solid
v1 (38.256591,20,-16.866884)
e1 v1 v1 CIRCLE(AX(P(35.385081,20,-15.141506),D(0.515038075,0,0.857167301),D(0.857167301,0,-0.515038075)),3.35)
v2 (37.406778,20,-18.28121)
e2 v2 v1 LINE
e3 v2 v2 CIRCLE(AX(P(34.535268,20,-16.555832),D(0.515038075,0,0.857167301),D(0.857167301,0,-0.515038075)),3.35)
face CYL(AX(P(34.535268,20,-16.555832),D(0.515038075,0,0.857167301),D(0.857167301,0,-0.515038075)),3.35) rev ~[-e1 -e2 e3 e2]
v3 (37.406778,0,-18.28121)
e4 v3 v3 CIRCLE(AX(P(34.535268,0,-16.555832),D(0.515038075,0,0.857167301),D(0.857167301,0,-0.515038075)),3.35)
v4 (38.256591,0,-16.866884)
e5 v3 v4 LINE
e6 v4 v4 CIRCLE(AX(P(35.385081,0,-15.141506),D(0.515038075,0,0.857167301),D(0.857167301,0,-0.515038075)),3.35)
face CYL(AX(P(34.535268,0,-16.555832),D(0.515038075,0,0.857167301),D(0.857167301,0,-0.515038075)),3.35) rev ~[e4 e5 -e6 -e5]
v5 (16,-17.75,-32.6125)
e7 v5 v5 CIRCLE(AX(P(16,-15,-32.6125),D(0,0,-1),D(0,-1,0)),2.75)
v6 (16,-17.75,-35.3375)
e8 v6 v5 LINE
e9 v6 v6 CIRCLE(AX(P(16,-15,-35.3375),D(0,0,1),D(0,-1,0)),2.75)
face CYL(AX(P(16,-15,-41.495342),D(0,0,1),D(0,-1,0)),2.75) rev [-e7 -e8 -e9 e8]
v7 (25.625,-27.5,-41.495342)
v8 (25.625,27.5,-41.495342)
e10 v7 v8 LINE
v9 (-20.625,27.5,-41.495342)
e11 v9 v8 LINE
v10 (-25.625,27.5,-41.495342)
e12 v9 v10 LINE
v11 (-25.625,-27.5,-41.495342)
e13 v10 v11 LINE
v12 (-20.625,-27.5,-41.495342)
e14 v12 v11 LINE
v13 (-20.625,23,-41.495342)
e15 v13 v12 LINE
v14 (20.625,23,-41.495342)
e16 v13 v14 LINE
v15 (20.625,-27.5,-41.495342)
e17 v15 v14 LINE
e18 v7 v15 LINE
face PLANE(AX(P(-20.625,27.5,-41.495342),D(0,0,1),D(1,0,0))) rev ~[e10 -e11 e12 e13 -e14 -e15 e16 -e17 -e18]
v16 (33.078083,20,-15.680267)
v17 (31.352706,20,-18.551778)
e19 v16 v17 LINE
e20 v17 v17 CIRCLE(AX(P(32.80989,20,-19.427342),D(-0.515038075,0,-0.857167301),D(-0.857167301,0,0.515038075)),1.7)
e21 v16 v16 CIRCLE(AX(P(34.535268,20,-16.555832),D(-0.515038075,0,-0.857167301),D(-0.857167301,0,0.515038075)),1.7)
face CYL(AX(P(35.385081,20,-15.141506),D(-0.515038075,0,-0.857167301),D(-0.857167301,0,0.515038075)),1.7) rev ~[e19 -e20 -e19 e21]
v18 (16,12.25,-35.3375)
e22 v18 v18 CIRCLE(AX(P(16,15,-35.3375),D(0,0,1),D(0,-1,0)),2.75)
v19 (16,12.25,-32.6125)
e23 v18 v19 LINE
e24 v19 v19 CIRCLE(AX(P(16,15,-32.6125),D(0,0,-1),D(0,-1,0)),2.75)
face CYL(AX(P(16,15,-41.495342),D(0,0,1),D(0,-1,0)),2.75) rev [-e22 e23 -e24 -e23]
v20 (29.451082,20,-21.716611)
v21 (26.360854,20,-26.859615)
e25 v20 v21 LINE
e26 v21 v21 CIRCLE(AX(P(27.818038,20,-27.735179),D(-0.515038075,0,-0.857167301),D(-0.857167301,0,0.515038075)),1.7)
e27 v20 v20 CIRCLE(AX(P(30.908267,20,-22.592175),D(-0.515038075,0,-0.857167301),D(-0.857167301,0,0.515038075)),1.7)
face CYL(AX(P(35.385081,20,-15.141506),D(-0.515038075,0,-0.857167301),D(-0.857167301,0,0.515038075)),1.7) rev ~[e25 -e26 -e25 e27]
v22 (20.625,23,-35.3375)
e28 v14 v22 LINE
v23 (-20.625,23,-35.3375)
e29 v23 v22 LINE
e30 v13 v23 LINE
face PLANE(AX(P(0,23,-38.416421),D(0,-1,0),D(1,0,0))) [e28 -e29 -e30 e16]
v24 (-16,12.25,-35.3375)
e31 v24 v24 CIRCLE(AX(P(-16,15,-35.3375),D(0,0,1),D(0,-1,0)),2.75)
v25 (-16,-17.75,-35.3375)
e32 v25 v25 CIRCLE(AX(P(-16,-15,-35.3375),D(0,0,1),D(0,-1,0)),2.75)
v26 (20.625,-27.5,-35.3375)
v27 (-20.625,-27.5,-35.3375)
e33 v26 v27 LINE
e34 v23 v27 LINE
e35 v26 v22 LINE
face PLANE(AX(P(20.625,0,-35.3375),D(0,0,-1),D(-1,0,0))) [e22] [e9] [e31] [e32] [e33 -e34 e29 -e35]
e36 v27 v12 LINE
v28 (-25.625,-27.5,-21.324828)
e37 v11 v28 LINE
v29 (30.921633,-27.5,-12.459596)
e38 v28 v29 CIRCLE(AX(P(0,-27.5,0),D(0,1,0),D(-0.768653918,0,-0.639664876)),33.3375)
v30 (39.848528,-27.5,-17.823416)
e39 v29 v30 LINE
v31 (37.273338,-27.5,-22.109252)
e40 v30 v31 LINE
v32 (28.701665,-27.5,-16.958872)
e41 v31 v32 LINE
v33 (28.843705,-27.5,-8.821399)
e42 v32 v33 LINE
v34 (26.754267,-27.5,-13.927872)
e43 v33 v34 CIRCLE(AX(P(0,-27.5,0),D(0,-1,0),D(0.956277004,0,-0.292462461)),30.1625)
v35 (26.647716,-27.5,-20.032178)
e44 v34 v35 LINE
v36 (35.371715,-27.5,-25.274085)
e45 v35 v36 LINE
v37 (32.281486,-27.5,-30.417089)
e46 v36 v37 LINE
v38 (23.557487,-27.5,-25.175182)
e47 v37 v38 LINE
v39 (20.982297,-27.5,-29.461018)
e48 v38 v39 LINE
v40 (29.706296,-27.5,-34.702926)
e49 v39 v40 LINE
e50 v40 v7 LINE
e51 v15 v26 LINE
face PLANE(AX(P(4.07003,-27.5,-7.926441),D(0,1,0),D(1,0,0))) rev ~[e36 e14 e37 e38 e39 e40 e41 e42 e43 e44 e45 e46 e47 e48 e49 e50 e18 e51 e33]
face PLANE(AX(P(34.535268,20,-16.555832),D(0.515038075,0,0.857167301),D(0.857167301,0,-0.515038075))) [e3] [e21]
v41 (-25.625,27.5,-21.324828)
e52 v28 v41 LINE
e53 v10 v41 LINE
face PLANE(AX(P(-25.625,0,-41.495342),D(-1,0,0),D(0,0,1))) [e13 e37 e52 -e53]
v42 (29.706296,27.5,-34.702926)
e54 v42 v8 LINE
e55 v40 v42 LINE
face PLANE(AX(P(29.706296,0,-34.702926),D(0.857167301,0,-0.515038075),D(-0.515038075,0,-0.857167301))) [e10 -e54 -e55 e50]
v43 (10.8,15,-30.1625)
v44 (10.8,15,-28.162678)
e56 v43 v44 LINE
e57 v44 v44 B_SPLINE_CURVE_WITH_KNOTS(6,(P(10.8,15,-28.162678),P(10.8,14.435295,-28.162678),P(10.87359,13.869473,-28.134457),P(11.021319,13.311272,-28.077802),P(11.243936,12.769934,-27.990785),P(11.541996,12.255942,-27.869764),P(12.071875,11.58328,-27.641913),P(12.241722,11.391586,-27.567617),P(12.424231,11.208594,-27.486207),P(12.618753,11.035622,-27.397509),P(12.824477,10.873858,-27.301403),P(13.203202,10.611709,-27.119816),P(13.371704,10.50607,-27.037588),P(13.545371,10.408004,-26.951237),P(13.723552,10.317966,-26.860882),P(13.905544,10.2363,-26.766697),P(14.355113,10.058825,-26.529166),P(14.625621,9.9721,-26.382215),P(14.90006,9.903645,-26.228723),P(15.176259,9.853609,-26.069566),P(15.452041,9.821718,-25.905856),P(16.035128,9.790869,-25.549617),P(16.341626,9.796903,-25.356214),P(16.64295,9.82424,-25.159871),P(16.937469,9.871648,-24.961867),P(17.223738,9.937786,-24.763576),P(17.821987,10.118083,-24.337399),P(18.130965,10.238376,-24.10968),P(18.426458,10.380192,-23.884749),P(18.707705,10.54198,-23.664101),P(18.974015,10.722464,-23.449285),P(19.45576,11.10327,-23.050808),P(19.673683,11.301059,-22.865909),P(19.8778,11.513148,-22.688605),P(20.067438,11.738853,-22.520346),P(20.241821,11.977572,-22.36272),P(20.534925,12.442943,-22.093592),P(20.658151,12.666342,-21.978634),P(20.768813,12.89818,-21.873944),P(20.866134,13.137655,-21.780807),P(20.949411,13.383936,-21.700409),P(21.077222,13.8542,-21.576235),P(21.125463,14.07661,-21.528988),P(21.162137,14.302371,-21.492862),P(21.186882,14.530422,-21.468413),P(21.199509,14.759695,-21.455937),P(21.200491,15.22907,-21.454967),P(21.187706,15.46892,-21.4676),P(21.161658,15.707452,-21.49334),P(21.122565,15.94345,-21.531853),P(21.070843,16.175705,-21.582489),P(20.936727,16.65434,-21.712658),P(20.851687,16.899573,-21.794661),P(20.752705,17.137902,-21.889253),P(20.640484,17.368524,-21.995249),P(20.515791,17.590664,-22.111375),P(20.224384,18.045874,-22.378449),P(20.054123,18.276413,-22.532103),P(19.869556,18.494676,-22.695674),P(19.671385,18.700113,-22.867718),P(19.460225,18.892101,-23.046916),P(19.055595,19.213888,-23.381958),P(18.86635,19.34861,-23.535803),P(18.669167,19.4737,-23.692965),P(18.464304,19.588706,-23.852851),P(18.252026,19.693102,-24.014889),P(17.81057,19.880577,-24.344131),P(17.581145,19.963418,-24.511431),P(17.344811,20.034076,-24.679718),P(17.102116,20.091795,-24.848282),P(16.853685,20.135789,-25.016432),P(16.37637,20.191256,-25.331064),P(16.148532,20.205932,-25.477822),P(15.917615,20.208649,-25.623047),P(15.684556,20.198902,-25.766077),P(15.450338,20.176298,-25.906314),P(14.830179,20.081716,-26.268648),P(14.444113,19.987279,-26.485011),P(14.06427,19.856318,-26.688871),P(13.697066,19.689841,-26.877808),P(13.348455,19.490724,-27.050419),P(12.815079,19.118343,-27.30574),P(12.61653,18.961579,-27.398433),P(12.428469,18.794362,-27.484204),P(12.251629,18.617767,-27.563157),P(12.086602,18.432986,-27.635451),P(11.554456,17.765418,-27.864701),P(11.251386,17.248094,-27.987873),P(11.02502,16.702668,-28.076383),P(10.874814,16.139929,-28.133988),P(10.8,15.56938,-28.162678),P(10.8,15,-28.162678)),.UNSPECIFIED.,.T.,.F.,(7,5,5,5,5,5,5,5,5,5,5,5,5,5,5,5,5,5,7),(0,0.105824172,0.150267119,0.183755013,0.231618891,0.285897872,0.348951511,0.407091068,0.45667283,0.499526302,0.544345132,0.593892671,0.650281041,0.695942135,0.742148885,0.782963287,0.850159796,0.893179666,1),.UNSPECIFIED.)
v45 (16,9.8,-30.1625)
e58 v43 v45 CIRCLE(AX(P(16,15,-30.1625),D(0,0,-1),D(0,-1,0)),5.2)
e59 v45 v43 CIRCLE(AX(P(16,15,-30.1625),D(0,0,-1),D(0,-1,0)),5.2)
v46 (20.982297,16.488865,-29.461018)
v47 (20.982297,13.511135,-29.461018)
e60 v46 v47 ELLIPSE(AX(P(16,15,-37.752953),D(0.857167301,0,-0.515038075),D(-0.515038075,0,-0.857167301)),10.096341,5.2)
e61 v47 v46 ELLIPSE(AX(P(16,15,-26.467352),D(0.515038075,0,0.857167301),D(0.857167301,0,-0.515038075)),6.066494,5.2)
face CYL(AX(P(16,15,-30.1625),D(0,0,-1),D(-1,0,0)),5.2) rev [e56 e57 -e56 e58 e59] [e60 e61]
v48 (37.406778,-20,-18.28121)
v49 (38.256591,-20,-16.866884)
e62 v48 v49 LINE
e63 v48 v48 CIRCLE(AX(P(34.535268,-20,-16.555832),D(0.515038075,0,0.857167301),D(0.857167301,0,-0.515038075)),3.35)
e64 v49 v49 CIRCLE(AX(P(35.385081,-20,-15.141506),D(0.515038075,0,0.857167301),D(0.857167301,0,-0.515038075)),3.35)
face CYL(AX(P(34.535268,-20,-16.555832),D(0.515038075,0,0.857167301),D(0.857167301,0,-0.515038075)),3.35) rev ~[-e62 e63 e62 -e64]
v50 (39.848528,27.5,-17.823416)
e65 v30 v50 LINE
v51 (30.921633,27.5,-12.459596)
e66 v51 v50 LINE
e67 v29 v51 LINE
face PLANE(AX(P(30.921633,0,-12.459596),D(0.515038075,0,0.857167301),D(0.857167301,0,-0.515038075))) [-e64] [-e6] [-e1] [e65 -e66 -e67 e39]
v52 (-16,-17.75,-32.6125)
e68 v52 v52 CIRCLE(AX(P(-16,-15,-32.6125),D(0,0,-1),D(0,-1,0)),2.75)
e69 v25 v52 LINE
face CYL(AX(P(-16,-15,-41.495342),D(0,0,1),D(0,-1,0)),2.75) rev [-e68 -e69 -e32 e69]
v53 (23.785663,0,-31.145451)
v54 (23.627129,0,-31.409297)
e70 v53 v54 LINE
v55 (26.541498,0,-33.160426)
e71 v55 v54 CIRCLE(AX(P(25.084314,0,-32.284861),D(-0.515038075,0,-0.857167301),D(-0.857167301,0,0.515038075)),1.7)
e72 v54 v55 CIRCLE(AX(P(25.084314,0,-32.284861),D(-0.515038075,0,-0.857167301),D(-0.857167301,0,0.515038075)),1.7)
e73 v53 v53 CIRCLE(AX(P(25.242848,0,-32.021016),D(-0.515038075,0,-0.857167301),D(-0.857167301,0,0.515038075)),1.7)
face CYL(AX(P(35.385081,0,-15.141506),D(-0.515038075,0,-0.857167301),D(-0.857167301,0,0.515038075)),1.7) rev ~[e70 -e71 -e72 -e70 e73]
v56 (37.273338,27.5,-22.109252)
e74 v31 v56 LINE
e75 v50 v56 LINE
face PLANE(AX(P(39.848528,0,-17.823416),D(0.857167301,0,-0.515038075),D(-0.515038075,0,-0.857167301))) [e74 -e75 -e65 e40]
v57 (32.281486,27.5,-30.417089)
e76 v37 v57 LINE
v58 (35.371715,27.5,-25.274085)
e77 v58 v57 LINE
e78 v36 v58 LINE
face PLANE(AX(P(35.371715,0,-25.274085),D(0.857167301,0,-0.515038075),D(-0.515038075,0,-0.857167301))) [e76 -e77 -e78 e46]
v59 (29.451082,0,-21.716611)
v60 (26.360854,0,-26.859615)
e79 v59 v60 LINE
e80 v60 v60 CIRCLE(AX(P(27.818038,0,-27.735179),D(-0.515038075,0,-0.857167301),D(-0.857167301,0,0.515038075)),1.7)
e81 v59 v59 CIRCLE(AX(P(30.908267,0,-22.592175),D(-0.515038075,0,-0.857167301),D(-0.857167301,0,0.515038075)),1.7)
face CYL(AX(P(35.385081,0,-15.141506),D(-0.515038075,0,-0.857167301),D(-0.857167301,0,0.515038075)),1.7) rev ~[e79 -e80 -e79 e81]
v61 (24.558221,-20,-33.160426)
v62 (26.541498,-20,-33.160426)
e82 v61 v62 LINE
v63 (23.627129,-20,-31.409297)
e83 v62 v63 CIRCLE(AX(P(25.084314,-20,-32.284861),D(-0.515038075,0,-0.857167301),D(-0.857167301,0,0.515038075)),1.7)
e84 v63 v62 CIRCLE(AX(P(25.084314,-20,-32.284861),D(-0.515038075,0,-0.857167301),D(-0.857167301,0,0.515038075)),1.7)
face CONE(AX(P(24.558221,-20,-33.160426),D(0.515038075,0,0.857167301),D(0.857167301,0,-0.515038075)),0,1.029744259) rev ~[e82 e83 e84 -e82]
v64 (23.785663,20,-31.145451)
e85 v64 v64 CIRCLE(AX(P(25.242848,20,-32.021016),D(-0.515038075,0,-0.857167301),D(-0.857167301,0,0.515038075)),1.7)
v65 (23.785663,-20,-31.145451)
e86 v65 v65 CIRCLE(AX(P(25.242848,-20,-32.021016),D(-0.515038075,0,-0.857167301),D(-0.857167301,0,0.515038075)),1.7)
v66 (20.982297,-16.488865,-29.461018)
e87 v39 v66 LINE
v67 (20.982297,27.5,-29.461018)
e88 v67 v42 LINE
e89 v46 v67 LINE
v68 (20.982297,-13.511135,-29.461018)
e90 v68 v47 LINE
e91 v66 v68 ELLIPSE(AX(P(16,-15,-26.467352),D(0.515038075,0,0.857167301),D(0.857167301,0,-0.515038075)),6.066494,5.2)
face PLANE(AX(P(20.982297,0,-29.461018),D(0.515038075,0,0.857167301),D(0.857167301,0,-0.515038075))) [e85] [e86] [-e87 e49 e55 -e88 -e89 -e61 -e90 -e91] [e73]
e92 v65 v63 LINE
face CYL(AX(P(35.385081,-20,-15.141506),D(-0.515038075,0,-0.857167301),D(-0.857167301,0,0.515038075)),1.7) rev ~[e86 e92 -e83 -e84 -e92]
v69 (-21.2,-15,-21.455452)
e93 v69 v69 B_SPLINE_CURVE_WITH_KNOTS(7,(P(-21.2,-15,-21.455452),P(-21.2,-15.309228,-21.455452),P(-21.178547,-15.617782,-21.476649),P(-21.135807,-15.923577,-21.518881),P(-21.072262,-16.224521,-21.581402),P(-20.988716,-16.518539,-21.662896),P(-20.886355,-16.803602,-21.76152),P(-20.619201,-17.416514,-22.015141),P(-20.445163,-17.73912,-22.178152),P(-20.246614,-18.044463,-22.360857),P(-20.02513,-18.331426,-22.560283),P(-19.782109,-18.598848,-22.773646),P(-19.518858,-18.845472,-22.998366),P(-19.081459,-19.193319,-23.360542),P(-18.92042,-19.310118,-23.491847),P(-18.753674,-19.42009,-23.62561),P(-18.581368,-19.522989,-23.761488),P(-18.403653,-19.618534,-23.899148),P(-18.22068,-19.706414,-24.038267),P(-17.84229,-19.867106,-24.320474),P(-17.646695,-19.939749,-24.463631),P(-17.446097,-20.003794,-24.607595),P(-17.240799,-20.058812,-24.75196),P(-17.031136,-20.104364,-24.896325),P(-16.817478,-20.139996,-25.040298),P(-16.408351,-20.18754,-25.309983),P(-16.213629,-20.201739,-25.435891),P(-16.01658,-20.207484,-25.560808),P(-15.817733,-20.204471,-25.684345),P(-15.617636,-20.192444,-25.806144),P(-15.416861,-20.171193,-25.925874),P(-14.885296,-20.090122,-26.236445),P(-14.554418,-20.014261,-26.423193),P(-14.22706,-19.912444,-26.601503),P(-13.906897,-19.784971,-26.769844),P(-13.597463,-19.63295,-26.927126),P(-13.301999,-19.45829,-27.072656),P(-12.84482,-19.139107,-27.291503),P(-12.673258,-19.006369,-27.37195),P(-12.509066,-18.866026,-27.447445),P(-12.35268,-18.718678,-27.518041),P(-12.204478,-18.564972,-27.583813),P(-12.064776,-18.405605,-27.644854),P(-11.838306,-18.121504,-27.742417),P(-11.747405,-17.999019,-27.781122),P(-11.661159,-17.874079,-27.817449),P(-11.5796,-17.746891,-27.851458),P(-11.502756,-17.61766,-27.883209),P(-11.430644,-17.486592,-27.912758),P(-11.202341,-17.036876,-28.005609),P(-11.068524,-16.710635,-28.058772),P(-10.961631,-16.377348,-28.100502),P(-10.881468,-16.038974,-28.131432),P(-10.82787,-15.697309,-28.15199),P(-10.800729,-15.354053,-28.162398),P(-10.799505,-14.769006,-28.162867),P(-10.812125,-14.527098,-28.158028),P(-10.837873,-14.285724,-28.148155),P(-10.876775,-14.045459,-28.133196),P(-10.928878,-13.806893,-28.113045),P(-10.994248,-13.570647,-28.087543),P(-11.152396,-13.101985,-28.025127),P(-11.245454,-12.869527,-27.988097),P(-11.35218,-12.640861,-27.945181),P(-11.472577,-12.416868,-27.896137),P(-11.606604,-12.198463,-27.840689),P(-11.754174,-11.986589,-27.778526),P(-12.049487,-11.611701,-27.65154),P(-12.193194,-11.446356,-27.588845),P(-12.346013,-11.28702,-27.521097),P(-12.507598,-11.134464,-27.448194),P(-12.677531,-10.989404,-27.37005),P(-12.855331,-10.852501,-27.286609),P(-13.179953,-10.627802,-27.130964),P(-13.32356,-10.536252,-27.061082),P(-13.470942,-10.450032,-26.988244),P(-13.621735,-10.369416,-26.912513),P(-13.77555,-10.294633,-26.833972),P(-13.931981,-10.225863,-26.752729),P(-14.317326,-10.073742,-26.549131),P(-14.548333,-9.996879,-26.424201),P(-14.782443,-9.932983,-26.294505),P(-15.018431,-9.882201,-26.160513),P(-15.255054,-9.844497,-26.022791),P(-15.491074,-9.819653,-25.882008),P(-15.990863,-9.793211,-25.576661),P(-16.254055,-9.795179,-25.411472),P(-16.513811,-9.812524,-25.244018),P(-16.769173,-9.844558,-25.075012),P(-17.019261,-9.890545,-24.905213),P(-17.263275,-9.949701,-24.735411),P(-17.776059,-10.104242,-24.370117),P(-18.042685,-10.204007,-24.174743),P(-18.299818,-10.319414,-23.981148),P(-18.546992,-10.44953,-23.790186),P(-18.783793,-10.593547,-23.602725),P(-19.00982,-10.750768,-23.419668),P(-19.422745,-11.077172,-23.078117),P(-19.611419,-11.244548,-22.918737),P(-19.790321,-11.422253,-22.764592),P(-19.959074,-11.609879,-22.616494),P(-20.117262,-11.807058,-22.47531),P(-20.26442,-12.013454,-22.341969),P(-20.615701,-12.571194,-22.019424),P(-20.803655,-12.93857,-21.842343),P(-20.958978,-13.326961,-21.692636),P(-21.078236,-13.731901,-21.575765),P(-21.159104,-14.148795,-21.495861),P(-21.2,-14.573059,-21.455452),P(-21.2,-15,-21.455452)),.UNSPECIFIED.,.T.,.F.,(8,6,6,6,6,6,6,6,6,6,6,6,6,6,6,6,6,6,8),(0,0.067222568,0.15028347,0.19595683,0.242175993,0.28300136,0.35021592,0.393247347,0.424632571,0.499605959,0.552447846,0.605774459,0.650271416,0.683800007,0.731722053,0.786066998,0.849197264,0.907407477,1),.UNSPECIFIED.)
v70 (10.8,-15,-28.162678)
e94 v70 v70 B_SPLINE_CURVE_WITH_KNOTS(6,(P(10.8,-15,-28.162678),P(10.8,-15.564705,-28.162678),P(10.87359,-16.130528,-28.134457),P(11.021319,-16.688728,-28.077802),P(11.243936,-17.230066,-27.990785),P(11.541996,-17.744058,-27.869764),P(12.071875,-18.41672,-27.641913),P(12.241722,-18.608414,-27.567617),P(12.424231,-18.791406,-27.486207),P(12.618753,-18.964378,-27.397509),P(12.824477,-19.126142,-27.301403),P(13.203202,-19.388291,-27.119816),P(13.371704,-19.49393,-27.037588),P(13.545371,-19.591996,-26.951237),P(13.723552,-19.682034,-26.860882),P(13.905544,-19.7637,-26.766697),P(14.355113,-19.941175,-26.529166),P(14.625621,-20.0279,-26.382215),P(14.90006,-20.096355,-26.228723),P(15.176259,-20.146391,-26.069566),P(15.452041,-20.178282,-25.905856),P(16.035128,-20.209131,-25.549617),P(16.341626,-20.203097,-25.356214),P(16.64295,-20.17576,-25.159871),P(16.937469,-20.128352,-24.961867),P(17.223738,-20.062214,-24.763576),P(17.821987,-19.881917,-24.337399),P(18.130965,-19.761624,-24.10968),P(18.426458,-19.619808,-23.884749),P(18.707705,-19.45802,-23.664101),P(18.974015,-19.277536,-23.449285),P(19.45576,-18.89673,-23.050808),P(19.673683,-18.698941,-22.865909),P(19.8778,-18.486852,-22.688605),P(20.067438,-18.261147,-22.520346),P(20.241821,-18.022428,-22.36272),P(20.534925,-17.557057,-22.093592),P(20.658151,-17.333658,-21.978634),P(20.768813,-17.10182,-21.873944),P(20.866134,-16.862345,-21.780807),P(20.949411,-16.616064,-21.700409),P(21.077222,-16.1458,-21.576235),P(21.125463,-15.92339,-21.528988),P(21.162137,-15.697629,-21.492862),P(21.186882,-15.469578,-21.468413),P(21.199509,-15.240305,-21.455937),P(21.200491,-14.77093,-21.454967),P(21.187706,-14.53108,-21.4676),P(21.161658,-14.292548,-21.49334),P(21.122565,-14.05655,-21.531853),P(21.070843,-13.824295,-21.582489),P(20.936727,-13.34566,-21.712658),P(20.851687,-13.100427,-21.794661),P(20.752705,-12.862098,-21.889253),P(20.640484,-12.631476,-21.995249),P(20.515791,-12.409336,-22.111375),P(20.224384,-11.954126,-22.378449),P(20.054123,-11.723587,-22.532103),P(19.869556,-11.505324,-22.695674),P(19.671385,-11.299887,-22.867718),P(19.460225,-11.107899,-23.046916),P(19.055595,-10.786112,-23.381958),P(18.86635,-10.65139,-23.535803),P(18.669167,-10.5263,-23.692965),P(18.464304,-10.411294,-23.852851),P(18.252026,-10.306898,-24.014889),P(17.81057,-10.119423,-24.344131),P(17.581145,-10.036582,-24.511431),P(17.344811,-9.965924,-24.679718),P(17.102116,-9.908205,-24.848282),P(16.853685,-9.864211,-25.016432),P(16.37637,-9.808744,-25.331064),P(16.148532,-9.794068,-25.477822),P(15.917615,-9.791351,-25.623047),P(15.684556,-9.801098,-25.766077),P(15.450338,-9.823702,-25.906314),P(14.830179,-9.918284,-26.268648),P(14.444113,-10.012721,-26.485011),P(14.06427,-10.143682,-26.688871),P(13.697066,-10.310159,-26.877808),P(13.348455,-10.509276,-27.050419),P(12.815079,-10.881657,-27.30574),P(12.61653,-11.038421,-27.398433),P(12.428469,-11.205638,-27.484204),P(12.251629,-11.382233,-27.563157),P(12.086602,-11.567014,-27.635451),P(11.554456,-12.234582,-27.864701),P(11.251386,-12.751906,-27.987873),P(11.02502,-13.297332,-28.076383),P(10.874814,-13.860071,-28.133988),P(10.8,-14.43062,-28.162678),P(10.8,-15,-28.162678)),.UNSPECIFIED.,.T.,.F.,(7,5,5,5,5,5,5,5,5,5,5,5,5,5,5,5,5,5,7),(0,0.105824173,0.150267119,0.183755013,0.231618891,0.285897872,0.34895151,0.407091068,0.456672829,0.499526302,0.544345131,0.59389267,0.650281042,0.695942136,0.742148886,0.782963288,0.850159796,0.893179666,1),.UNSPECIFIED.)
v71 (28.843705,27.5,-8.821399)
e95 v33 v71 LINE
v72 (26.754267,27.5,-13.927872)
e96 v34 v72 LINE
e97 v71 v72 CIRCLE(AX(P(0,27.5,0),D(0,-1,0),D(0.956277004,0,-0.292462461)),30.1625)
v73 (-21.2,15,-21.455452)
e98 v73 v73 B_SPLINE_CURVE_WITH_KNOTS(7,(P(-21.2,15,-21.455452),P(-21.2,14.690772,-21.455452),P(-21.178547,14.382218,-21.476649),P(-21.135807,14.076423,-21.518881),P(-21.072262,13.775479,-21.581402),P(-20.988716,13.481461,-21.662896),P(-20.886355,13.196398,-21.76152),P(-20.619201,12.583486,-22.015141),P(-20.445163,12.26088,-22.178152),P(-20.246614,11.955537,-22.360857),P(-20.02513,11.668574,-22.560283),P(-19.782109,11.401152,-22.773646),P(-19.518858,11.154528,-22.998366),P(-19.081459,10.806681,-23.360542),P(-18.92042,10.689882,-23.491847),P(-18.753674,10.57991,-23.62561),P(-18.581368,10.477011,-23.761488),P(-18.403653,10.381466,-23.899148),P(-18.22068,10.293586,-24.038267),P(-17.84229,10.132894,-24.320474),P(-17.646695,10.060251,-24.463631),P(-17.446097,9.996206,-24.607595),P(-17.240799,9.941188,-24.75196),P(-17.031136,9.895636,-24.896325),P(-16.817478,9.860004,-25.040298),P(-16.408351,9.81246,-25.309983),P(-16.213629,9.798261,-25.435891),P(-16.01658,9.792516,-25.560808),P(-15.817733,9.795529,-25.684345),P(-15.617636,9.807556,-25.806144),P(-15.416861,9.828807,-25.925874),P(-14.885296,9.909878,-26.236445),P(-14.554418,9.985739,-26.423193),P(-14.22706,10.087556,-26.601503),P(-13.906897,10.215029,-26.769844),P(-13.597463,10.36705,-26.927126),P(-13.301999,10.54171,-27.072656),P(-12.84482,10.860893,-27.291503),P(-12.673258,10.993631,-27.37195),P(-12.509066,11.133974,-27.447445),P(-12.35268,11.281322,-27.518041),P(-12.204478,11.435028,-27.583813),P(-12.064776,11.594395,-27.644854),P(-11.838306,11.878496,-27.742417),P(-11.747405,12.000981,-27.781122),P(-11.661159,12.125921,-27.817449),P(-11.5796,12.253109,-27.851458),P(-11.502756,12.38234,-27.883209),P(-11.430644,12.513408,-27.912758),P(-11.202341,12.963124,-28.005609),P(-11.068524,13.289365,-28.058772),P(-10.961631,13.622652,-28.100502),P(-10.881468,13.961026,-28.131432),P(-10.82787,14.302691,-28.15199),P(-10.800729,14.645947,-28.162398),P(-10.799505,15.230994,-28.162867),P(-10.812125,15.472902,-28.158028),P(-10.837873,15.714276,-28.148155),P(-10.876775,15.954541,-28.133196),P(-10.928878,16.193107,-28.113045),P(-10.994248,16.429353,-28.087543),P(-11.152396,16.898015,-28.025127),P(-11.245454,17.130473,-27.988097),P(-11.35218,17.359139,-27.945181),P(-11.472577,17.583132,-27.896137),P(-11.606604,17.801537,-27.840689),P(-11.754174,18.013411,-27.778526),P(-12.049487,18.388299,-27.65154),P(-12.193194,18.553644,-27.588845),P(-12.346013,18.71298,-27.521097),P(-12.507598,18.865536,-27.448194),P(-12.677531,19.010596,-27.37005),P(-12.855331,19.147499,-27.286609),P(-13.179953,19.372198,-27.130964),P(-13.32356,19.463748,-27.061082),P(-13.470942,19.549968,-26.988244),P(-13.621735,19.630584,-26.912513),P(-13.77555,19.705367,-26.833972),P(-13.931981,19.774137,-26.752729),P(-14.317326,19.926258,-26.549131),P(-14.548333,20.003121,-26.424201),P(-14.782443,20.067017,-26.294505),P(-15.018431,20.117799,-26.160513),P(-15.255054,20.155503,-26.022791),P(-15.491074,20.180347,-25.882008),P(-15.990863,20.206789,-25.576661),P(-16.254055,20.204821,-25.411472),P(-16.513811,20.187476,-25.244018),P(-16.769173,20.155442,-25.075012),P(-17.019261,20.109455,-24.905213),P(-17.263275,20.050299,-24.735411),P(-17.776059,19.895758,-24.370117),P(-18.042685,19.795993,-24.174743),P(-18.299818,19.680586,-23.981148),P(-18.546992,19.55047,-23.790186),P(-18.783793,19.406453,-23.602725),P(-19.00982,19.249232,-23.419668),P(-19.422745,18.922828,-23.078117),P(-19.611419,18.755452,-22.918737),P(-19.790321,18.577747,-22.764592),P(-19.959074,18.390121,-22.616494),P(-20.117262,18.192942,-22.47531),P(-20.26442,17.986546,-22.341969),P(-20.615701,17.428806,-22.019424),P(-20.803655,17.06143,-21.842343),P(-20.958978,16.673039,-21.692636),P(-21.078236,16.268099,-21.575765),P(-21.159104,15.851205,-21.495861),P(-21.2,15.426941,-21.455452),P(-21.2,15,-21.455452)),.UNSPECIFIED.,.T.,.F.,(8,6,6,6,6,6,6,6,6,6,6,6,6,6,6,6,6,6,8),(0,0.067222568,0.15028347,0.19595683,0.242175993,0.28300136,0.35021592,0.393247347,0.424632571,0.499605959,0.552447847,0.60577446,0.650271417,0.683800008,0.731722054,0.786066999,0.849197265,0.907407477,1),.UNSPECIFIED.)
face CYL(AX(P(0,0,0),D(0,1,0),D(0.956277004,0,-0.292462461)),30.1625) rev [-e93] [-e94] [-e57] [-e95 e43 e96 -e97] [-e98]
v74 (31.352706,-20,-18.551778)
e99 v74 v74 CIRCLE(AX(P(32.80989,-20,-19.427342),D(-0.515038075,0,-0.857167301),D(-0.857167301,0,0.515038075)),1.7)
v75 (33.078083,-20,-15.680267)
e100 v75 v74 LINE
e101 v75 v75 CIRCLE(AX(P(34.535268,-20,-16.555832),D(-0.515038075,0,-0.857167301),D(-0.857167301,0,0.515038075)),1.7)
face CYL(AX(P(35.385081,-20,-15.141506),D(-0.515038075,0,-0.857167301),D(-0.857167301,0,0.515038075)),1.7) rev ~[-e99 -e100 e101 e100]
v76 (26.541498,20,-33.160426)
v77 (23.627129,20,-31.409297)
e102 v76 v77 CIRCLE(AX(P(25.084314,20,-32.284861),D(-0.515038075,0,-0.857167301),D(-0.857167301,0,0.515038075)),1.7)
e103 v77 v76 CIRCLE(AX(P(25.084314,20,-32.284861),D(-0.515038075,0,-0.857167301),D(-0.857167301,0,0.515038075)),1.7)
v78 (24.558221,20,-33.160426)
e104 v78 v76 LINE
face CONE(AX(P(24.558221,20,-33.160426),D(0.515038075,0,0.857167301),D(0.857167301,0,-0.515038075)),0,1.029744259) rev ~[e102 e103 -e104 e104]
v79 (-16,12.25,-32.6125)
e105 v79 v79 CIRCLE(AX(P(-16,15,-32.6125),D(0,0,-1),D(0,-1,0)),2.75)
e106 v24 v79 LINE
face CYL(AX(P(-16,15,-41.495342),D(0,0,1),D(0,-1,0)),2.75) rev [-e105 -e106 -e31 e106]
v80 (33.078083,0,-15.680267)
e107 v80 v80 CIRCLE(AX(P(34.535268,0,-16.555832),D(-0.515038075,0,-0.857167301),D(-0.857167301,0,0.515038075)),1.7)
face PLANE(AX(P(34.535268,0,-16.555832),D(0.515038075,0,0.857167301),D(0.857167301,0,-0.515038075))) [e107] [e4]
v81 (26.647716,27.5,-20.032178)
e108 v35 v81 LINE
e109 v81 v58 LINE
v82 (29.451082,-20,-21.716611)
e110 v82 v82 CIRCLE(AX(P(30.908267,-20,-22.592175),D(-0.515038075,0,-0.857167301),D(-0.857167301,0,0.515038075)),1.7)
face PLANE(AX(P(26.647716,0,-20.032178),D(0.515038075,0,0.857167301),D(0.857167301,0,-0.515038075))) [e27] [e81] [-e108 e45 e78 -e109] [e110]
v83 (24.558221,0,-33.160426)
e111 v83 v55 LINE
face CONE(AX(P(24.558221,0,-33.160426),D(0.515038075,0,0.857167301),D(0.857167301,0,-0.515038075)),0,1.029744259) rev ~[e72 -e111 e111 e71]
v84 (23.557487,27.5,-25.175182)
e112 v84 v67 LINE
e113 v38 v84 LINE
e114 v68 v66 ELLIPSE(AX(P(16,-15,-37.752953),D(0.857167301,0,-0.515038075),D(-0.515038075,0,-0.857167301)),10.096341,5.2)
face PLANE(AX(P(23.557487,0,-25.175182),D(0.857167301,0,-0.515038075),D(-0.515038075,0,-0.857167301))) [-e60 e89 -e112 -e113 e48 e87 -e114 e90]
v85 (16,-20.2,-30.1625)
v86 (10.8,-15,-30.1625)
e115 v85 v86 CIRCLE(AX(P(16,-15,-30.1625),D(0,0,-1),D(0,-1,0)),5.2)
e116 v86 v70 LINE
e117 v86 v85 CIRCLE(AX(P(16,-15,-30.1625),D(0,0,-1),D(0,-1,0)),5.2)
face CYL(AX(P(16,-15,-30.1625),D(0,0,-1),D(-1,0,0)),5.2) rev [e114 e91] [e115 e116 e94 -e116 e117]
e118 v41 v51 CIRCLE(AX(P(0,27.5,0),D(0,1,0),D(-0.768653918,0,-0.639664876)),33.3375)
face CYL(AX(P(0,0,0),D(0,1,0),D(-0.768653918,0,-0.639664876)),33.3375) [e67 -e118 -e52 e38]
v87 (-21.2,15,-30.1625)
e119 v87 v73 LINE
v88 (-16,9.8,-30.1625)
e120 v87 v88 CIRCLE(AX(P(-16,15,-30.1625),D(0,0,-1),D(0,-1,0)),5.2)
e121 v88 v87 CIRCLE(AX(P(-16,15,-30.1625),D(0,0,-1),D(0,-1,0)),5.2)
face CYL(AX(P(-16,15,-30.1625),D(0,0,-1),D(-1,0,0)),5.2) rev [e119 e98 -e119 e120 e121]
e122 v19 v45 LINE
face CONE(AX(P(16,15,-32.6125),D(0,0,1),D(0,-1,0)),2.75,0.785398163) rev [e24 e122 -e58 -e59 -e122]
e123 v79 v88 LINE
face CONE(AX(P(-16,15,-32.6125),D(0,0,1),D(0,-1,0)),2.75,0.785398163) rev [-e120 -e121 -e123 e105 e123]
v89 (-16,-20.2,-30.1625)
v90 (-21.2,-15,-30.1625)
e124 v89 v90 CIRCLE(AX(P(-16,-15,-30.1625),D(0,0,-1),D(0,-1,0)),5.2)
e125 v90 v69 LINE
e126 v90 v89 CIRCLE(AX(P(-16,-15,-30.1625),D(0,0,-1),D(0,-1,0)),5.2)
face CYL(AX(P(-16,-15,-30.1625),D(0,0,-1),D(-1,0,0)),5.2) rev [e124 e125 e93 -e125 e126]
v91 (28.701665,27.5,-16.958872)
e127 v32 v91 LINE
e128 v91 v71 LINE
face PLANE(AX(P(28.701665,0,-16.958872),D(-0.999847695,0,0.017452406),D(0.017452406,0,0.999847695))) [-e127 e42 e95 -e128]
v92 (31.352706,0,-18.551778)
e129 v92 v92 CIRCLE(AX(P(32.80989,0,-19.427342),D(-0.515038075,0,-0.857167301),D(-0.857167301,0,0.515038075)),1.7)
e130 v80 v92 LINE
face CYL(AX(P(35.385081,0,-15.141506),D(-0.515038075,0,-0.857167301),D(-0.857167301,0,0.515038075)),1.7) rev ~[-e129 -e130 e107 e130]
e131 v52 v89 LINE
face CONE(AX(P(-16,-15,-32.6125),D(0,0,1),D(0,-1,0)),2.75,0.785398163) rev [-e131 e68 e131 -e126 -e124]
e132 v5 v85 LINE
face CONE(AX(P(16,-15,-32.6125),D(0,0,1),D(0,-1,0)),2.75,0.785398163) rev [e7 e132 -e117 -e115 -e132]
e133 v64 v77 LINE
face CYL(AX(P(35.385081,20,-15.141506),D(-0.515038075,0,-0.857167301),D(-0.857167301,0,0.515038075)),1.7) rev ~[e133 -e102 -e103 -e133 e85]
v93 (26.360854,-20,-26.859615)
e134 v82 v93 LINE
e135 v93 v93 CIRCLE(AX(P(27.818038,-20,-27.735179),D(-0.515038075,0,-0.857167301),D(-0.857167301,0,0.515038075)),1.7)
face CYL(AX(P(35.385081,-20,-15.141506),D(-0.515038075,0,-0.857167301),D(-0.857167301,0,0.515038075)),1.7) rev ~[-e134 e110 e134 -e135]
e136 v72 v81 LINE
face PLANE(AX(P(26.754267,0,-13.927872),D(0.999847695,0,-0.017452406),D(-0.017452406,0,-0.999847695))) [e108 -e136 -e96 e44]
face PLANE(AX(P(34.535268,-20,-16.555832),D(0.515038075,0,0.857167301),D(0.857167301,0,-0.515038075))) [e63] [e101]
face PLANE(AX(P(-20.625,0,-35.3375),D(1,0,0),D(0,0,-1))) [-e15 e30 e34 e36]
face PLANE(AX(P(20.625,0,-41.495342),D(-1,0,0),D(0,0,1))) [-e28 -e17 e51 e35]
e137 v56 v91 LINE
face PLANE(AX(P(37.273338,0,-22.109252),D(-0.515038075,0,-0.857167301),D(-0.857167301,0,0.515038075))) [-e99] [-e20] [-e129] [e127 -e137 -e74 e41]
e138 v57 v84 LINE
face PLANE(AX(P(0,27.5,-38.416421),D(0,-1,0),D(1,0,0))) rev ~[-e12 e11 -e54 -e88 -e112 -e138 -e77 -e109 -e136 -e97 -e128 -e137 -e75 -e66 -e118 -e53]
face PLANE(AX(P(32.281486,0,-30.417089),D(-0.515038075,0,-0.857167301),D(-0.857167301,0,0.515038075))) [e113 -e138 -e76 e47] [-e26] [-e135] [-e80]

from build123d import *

# Parameters (mm, degrees)
BOSS_EXTRUDE1_DEPTH                            = 27.5
CBORE_FOR_M3_SBHCS1_D                          = 3.4
CBORE_FOR_M3_SBHCS1_DEPTH                      = 20.0000108
CBORE_FOR_M3_SBHCS1_CBORE_D                    = 6.7
CBORE_FOR_M3_SBHCS1_CBORE_DEPTH                = 1.65
CBORE_FOR_M3_SBHCS1_TIP                        = 1.021463052
SKETCH4_W                                      = 41.25
SKETCH4_H                                      = 6.157842489
BOSS_EXTRUDE2_DEPTH                            = 4.5
CSK_FOR_M5_FLAT_HEAD_MACHINE_SCREW1_AT_2_COUNT = 2
CSK_FOR_M5_FLAT_HEAD_MACHINE_SCREW1_AT_2_PITCH = 32
CSK_FOR_M5_FLAT_HEAD_MACHINE_SCREW1_AT_3_COUNT = 2
CSK_FOR_M5_FLAT_HEAD_MACHINE_SCREW1_AT_3_PITCH = 43.863424399
CSK_FOR_M5_FLAT_HEAD_MACHINE_SCREW1_AT_4_COUNT = 2
CSK_FOR_M5_FLAT_HEAD_MACHINE_SCREW1_AT_4_PITCH = 30
CUT_EXTRUDE1_REACH                             = 81.852
CUT_EXTRUDE1_END_RADIUS                        = 30.1625
SKETCH13_R                                     = 5.2


with BuildPart() as part:
    # Sketch1 → Boss-Extrude1 (new, symmetric)
    with BuildSketch(Plane(origin=(0, 0, 0), x_dir=(1, 0, 0), z_dir=(0, 1, 0))):
        with BuildLine():
            Line((-25.625, 41.495342489), (-25.625, 21.324827813))
            ThreePointArc((-25.625, 21.324827813), (-5.163493362, -32.935197624), (30.921632796, 12.45959596))
            Line((30.921632796, 12.45959596), (39.848528412, 17.823415986))
            Line((39.848528412, 17.823415986), (37.273338038, 22.109252489))
            Line((37.273338038, 22.109252489), (28.701665031, 16.95887174))
            Line((28.701665031, 16.95887174), (28.843705147, 8.821398963))
            ThreePointArc((28.843705147, 8.821398963), (-27.915992451, -11.422511622), (26.75426667, 13.927872098))
            Line((26.75426667, 13.927872098), (26.647715613, 20.032178086))
            Line((26.647715613, 20.032178086), (35.371714531, 25.274085476))
            Line((35.371714531, 25.274085476), (32.281486081, 30.41708928))
            Line((32.281486081, 30.41708928), (23.557487163, 25.17518189))
            Line((23.557487163, 25.17518189), (20.982296789, 29.461018394))
            Line((20.982296789, 29.461018394), (29.706295707, 34.702925784))
            Line((29.706295707, 34.702925784), (25.625, 41.495342489))
            Line((25.625, 41.495342489), (20.625, 41.495342489))
            Line((20.625, 41.495342489), (20.625, 35.3375))
            Line((20.625, 35.3375), (-20.625, 35.3375))
            Line((-20.625, 35.3375), (-20.625, 41.495342489))
            Line((-20.625, 41.495342489), (-25.625, 41.495342489))
        make_face()
    extrude(amount=BOSS_EXTRUDE1_DEPTH, both=True)

    # CBORE for M3 SBHCS1
    with Locations(Plane(origin=(2.701817631, 0, 4.496579649), x_dir=(0.8571673007021098, 0, -0.5150380749100585), z_dir=(0.5150380749100585, 0, 0.8571673007021098))):
        with Locations((38.129386114, 20), (38.129386114, 0), (38.129386114, -20)):
            CounterBoreHole(CBORE_FOR_M3_SBHCS1_D / 2, CBORE_FOR_M3_SBHCS1_CBORE_D / 2, CBORE_FOR_M3_SBHCS1_CBORE_DEPTH, depth=CBORE_FOR_M3_SBHCS1_DEPTH)
            with Locations((0, 0, -(CBORE_FOR_M3_SBHCS1_DEPTH + CBORE_FOR_M3_SBHCS1_TIP / 2))):  # 118° drill point
                Cone(0, CBORE_FOR_M3_SBHCS1_D / 2, CBORE_FOR_M3_SBHCS1_TIP, mode=Mode.SUBTRACT)

    # Sketch4 → Boss-Extrude2 (add)
    with BuildSketch(Plane.XZ.offset(-27.5)):
        with Locations((0, -38.416421245)):
            Rectangle(SKETCH4_W, SKETCH4_H)
    extrude(amount=BOSS_EXTRUDE2_DEPTH)

    # Sketch12 → CSK for M5 Flat Head Machine Screw1 (revolve, cut)
    with BuildSketch(Plane(origin=(-16, 15, -30.1625), x_dir=(0, -1, 0), z_dir=(1, 0, 0))):
        Polygon((0, 0), (0, 11.332842489), (2.75, 11.332842489), (2.75, 2.45), (5.2, 0), align=None)
    csk_for_m5_flat_head_machine_screw1 = revolve(axis=Axis((-16, 15, -23.8125), (0, 0, -1)), mode=Mode.SUBTRACT)

    # CSK for M5 Flat Head Machine Screw1 at 2: CSK for M5 Flat Head Machine Screw1 ×2
    with Locations(*[(i * CSK_FOR_M5_FLAT_HEAD_MACHINE_SCREW1_AT_2_PITCH, 0, 0) for i in range(1, CSK_FOR_M5_FLAT_HEAD_MACHINE_SCREW1_AT_2_COUNT)]):
        add(csk_for_m5_flat_head_machine_screw1, mode=Mode.SUBTRACT)

    # CSK for M5 Flat Head Machine Screw1 at 3: CSK for M5 Flat Head Machine Screw1 ×2
    with Locations(*[Vector(0.7295372041400853, -0.6839411288813297, 0) * (i * CSK_FOR_M5_FLAT_HEAD_MACHINE_SCREW1_AT_3_PITCH) for i in range(1, CSK_FOR_M5_FLAT_HEAD_MACHINE_SCREW1_AT_3_COUNT)]):
        add(csk_for_m5_flat_head_machine_screw1, mode=Mode.SUBTRACT)

    # CSK for M5 Flat Head Machine Screw1 at 4: CSK for M5 Flat Head Machine Screw1 ×2
    with Locations(*[(0, -i * CSK_FOR_M5_FLAT_HEAD_MACHINE_SCREW1_AT_4_PITCH, 0) for i in range(1, CSK_FOR_M5_FLAT_HEAD_MACHINE_SCREW1_AT_4_COUNT)]):
        add(csk_for_m5_flat_head_machine_screw1, mode=Mode.SUBTRACT)

    # Cut-Extrude1: up to this cylinder (the profile starts outside it)
    cut_extrude1_end = Plane(origin=(0, 0, 0), z_dir=(0, -1, 0)) * Cylinder(CUT_EXTRUDE1_END_RADIUS, 255.029, mode=Mode.PRIVATE)
    # Sketch13 → Cut-Extrude1 (cut, up to the surface)
    with BuildSketch(Plane.XY.offset(-30.1625), mode=Mode.PRIVATE) as cut_extrude1_sk1:
        with Locations(Location((-16, -15, 0), (0, 0, 180))):
            Circle(SKETCH13_R)
    cut_extrude1_tool1 = extrude(cut_extrude1_sk1.sketch, amount=CUT_EXTRUDE1_REACH, mode=Mode.PRIVATE) - cut_extrude1_end
    add(cut_extrude1_tool1.solids().sort_by_distance((-16, -15, -30.1625))[0], mode=Mode.SUBTRACT)
    # Sketch13 → Cut-Extrude1 (cut, up to the surface)
    with BuildSketch(Plane.XY.offset(-30.1625), mode=Mode.PRIVATE) as cut_extrude1_sk2:
        with Locations(Location((16, -15, 0), (0, 0, 180))):
            Circle(SKETCH13_R)
    cut_extrude1_tool2 = extrude(cut_extrude1_sk2.sketch, amount=CUT_EXTRUDE1_REACH, mode=Mode.PRIVATE) - cut_extrude1_end
    add(cut_extrude1_tool2.solids().sort_by_distance((16, -15, -30.1625))[0], mode=Mode.SUBTRACT)
    # Sketch13 → Cut-Extrude1 (cut, up to the surface)
    with BuildSketch(Plane.XY.offset(-30.1625), mode=Mode.PRIVATE) as cut_extrude1_sk3:
        with Locations(Location((16, 15, 0), (0, 0, 180))):
            Circle(SKETCH13_R)
    cut_extrude1_tool3 = extrude(cut_extrude1_sk3.sketch, amount=CUT_EXTRUDE1_REACH, mode=Mode.PRIVATE) - cut_extrude1_end
    add(cut_extrude1_tool3.solids().sort_by_distance((16, 15, -30.1625))[0], mode=Mode.SUBTRACT)
    # Sketch13 → Cut-Extrude1 (cut, up to the surface)
    with BuildSketch(Plane.XY.offset(-30.1625), mode=Mode.PRIVATE) as cut_extrude1_sk4:
        with Locations(Location((-16, 15, 0), (0, 0, 180))):
            Circle(SKETCH13_R)
    cut_extrude1_tool4 = extrude(cut_extrude1_sk4.sketch, amount=CUT_EXTRUDE1_REACH, mode=Mode.PRIVATE) - cut_extrude1_end
    add(cut_extrude1_tool4.solids().sort_by_distance((-16, 15, -30.1625))[0], mode=Mode.SUBTRACT)


solid = part.part
